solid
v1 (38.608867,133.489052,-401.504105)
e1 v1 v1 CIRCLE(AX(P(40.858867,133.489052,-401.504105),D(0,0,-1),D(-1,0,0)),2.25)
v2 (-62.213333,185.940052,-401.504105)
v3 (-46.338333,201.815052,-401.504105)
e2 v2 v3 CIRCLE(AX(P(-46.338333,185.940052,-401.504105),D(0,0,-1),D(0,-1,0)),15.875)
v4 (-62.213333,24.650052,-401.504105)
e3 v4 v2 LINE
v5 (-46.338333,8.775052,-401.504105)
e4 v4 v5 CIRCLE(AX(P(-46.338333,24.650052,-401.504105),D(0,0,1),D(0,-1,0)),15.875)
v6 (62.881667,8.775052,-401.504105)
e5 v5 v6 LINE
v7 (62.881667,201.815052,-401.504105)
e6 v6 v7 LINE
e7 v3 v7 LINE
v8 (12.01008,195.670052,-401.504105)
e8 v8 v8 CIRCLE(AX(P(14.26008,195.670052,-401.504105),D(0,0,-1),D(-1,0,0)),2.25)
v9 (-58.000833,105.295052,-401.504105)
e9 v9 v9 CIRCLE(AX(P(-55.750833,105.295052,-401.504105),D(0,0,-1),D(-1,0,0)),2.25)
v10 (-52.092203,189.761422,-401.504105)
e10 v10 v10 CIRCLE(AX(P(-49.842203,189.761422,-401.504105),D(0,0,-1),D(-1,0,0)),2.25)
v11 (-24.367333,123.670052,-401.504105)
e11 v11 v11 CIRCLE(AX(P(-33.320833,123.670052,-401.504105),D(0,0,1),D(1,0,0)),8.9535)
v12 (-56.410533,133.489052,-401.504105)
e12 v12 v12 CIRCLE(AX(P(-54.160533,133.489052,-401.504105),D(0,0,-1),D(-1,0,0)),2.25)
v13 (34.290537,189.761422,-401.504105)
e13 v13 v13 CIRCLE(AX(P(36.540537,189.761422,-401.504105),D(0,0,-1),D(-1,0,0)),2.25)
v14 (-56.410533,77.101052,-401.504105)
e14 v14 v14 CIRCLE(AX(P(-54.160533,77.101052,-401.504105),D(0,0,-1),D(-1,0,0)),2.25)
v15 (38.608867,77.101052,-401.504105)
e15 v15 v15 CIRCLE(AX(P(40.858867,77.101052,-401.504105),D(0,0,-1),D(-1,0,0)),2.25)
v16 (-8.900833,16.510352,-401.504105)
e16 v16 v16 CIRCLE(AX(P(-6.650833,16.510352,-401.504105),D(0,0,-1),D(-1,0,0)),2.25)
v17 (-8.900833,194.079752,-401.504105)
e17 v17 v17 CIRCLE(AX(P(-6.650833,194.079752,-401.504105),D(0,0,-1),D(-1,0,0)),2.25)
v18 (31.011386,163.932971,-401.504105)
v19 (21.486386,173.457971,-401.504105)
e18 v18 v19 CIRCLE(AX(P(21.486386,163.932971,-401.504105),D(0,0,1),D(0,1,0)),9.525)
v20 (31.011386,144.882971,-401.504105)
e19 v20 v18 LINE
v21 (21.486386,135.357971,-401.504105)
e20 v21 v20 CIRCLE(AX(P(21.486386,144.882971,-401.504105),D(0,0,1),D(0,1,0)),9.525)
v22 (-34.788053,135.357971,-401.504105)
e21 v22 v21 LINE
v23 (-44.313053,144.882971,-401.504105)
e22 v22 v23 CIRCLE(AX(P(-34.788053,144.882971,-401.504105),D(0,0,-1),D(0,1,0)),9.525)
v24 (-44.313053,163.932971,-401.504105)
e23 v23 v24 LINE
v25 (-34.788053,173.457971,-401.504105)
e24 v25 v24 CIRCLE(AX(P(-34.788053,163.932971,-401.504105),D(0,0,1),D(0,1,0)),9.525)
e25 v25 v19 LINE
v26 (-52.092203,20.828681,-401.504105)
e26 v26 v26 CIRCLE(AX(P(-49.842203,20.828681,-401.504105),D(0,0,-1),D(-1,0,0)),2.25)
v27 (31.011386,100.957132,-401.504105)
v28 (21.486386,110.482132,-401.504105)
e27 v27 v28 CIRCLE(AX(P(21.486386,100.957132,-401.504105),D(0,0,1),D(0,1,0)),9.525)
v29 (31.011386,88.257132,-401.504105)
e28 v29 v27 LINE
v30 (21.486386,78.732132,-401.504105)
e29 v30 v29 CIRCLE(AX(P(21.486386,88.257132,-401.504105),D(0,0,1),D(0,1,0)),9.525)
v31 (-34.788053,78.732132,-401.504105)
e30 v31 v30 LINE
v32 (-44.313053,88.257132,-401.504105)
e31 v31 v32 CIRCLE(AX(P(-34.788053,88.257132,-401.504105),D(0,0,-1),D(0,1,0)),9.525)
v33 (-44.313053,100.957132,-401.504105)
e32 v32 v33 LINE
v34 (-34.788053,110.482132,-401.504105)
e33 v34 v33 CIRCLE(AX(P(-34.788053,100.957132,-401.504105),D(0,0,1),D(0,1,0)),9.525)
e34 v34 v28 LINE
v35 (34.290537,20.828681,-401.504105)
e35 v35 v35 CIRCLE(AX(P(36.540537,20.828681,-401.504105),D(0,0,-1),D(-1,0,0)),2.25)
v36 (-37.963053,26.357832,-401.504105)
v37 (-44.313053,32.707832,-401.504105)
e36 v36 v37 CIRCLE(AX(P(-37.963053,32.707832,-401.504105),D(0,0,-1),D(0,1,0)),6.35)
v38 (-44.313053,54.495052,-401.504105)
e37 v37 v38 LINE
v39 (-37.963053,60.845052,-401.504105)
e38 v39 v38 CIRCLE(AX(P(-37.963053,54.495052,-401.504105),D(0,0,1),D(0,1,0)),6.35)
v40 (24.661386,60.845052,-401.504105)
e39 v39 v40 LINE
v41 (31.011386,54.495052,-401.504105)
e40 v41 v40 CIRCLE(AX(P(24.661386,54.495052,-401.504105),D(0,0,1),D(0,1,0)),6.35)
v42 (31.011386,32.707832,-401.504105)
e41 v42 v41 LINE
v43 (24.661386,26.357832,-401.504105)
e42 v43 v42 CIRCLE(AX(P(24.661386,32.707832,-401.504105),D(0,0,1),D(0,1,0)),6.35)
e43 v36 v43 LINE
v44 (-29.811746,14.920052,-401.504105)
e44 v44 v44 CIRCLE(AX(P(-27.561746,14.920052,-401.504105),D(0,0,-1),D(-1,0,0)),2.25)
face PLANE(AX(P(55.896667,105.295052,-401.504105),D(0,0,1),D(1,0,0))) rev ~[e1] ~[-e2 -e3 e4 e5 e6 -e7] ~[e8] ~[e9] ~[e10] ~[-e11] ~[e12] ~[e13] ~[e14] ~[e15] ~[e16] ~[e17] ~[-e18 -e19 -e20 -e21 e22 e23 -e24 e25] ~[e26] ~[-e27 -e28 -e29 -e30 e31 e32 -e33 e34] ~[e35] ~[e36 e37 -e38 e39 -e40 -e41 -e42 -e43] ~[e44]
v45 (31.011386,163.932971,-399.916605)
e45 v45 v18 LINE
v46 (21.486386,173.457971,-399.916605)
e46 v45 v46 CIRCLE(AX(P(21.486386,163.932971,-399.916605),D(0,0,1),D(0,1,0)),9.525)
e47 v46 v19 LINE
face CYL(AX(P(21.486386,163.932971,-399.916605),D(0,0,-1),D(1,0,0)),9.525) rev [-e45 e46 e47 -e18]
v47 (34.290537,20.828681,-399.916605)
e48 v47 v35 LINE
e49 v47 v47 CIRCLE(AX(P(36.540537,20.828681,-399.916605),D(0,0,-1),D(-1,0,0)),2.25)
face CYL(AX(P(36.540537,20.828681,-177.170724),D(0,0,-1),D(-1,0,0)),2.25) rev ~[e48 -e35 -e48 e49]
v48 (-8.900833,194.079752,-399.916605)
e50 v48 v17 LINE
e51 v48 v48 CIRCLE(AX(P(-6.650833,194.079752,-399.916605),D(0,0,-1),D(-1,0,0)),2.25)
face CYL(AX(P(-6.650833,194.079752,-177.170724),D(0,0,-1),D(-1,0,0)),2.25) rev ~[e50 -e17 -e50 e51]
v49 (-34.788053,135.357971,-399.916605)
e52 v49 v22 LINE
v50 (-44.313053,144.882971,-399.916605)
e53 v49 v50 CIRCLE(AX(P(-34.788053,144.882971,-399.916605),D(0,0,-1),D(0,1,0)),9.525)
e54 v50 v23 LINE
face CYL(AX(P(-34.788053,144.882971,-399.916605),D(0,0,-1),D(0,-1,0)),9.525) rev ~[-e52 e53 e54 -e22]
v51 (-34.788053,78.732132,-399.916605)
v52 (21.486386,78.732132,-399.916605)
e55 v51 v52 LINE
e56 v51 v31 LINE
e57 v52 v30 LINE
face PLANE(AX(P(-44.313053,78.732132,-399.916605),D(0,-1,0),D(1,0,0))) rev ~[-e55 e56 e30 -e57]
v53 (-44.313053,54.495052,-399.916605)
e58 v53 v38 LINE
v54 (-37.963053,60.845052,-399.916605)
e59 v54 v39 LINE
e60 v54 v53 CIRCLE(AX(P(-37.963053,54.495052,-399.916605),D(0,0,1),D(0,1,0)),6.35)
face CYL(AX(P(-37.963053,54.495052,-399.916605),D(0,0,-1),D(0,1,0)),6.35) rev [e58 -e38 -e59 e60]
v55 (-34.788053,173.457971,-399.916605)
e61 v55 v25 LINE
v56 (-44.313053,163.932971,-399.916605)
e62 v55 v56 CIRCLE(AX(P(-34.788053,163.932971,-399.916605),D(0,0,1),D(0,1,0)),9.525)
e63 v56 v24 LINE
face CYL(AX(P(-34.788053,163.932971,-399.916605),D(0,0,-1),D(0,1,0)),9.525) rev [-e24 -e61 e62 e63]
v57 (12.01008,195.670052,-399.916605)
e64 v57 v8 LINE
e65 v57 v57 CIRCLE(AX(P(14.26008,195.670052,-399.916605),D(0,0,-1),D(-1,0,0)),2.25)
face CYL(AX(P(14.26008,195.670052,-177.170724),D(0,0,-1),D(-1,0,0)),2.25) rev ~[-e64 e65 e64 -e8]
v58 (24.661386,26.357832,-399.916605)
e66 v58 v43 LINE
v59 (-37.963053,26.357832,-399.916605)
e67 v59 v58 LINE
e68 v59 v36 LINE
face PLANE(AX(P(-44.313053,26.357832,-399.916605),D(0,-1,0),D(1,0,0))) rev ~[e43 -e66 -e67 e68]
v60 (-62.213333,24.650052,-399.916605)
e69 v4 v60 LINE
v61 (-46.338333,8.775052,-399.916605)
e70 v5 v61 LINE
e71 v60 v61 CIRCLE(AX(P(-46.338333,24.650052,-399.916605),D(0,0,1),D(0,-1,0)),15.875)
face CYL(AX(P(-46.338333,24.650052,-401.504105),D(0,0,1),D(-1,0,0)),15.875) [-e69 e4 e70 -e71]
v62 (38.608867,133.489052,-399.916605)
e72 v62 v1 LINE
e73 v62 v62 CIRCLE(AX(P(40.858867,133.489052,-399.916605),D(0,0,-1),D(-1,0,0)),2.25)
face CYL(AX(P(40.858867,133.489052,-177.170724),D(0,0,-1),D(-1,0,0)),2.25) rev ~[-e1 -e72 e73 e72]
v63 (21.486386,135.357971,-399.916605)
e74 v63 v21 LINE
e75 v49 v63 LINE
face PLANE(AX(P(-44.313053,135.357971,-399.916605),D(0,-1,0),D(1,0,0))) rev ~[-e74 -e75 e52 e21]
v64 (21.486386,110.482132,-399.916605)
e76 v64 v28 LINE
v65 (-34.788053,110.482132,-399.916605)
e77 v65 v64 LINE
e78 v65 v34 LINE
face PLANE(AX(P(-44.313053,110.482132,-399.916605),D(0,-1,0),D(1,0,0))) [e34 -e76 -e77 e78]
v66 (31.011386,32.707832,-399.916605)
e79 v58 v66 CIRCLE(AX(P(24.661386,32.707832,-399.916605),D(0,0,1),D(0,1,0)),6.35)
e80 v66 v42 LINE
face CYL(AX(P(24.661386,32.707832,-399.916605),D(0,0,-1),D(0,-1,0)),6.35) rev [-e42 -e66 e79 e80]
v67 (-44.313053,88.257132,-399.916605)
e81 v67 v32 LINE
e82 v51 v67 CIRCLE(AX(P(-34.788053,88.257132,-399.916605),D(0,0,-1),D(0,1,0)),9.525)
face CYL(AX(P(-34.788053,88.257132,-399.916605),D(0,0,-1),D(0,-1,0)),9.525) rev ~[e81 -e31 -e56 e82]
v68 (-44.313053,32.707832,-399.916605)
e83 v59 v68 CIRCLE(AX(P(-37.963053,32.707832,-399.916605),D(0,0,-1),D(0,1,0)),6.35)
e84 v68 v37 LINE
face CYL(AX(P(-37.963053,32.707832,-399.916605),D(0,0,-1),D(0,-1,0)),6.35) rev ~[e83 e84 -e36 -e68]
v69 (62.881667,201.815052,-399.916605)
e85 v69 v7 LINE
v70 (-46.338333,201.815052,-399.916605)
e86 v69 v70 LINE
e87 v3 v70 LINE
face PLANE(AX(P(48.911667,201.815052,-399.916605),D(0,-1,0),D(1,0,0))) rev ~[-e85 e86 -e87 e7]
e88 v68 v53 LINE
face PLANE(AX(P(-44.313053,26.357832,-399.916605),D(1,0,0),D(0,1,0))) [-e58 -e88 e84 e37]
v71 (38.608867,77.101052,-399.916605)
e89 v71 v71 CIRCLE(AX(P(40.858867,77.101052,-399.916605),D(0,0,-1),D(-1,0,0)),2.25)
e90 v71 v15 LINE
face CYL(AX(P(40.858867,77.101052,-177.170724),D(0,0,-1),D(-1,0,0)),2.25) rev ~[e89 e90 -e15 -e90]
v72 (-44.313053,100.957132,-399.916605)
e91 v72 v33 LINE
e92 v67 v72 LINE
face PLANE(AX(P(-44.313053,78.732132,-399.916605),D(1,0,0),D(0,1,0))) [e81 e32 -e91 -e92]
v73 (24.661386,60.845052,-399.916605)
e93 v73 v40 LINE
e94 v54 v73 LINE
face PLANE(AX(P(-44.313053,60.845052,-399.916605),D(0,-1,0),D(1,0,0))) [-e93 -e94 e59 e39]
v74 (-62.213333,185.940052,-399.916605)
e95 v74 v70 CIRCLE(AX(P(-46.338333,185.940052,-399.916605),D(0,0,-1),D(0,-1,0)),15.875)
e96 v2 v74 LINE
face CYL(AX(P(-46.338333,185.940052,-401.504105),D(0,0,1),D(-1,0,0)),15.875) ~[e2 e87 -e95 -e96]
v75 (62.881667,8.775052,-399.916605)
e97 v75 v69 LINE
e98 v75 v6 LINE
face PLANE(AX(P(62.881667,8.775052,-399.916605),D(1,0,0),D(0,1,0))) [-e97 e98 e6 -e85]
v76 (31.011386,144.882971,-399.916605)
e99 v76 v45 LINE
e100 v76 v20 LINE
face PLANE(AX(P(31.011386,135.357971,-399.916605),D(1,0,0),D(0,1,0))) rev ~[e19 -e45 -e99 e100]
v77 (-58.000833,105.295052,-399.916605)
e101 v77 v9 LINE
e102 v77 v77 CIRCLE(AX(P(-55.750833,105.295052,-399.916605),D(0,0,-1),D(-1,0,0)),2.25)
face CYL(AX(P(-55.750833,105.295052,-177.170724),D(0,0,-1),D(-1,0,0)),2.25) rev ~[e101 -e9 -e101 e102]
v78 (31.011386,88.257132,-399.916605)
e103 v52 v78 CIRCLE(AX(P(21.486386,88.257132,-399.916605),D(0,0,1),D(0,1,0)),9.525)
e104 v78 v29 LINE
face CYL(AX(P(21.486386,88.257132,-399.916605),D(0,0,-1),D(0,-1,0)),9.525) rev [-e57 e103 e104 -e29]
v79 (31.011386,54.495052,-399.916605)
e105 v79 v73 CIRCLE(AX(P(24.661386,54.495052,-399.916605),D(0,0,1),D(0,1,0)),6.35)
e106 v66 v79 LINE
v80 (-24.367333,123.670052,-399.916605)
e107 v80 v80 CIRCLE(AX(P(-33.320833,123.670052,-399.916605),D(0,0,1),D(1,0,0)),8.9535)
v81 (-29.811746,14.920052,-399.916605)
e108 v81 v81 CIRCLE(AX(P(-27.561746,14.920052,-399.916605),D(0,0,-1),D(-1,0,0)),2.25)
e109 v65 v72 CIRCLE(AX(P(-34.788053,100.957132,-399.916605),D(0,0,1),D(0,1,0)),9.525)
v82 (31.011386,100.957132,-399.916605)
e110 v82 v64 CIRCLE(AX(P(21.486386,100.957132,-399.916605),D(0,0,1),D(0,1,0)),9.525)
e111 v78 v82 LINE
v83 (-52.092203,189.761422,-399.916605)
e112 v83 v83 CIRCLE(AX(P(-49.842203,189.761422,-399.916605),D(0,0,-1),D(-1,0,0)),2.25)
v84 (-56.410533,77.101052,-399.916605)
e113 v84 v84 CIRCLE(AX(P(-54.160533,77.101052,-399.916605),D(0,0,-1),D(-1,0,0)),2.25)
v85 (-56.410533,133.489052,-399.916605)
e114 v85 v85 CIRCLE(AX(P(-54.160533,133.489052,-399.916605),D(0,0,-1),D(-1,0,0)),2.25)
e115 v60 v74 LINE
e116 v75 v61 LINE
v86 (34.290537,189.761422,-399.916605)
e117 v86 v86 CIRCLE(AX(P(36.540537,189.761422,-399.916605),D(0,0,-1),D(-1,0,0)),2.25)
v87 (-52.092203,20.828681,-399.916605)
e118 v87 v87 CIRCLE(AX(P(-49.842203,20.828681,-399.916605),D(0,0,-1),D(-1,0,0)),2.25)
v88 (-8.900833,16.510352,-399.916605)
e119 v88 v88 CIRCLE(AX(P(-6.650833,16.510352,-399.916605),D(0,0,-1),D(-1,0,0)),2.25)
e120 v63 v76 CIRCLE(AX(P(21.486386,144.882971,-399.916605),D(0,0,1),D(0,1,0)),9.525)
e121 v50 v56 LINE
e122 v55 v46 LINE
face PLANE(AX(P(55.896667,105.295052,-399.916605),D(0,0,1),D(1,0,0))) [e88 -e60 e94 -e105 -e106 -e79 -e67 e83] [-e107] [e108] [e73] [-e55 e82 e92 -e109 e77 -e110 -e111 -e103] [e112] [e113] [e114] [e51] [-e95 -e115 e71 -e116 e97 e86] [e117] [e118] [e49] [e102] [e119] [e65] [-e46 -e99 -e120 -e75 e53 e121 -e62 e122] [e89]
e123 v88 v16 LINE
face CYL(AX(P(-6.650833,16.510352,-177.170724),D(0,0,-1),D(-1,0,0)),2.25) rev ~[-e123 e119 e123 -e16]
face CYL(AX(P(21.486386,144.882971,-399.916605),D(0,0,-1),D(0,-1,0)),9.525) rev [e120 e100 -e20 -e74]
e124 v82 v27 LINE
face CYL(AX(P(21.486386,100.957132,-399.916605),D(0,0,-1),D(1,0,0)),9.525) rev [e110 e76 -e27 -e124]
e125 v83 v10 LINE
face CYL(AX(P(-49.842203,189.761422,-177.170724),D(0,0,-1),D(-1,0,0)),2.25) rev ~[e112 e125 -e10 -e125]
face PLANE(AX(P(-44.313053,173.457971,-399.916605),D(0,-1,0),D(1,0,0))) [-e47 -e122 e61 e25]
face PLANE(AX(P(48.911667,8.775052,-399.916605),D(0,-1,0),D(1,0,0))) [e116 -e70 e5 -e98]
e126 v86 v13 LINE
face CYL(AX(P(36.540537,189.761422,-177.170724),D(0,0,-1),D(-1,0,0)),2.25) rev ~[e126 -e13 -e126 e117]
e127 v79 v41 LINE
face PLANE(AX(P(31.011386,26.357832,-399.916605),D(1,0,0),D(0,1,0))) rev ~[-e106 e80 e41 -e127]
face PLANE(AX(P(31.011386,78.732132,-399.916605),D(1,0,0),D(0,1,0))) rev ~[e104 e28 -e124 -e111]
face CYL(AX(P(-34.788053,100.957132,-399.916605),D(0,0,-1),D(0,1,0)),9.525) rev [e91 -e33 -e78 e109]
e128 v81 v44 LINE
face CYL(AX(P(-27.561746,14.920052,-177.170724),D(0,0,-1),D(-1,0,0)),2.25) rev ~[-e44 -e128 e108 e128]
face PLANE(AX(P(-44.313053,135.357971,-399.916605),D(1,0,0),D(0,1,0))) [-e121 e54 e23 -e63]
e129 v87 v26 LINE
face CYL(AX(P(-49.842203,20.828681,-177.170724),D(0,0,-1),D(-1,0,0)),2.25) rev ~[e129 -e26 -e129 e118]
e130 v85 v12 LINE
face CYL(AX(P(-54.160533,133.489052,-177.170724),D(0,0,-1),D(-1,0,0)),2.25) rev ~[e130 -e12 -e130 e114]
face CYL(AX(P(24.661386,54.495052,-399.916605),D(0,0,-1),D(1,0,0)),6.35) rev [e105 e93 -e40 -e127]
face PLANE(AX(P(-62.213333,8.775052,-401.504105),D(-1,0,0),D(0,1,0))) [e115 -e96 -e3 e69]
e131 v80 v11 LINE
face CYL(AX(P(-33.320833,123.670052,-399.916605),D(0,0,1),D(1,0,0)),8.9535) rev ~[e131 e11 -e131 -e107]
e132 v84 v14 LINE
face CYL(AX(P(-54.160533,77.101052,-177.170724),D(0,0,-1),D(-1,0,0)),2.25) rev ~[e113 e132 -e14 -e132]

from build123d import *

# Parameters (mm, degrees)
SKETCH2_W            = 111.125
SKETCH2_H            = 193.04
BOSS_EXTRUDE1_DEPTH  = 1.5875
M4_CLEARANCE_HOLE1_D = 4.5
FILLET1_R            = 15.875
SKETCH6_R            = 2.4003
SKETCH6_R_2          = 3
SKETCH6_R_3          = 6.477
SKETCH6_R_4          = 10.762
CUT_EXTRUDE1_DEPTH   = 212.192646736
SKETCH7_W            = 13.97
SKETCH7_H            = 193.04
BOSS_EXTRUDE2_DEPTH  = 1.5875
SKETCH8_W            = 75.32443897
SKETCH8_H            = 38.1
SKETCH8_R            = 10.762
SKETCH8_R_2          = 3
SKETCH8_H_2          = 31.75
SKETCH8_H_3          = 34.487219484
SKETCH8_R_3          = 2.4003
SKETCH8_R_4          = 6.477
SKETCH8_R_5          = 8.9535
CUT_EXTRUDE2_DEPTH   = 1.5875
FILLET2_R            = 9.525
FILLET3_R            = 6.35
FILLET4_R            = 9.525


with BuildPart() as part:
    # Sketch2 → Boss-Extrude1 (new body)
    with BuildSketch(Plane.XY.offset(-401.504104662)):
        with Locations((-6.650833159, 105.295051609)):
            Rectangle(SKETCH2_W, SKETCH2_H)
    extrude(amount=BOSS_EXTRUDE1_DEPTH)

    # M4 Clearance Hole1 (through all)
    with Locations(Plane.XY.offset(-399.916604662)):
        with Locations((36.540537091, 189.761421859), (-6.650833159, 194.079751609), (-49.842203409, 189.761421859), (-54.160533159, 133.489051609), (-54.160533159, 77.101051609), (-49.842203409, 20.82868136), (-6.650833159, 16.510351609), (36.540537091, 20.82868136), (40.858866841, 77.101051609), (40.858866841, 133.489051609), (14.260079544, 195.670051609), (-55.750833159, 105.295051609), (-27.561745863, 14.920051609)):
            Hole(M4_CLEARANCE_HOLE1_D / 2)

    # Fillet1
    fillet1_edges = [part.edges().sort_by_distance(p)[0] for p in [
        (-62.213333159, 201.815051609, -400.710354662),
        (-62.213333159, 8.775051609, -400.710354662),
    ]]
    fillet(fillet1_edges, radius=FILLET1_R)

    # Sketch6 → Cut-Extrude1 (cut, through all)
    with BuildSketch(Plane.XY.offset(-399.916604662)):
        with Locations((-34.590833159, 43.382551609)):
            Circle(SKETCH6_R)
        with Locations((21.289166841, 43.382551609)):
            Circle(SKETCH6_R)
        with Locations((-20.884724927, 142.590766631)):
            Circle(SKETCH6_R_2)
        with Locations((7.583058609, 166.225175879)):
            Circle(SKETCH6_R_2)
        with Locations((3.509166841, 43.382551609)):
            Circle(SKETCH6_R_3)
        with Locations((-16.810833159, 43.382551609)):
            Circle(SKETCH6_R_3)
        with Locations((-33.320833159, 123.670051609)):
            Circle(SKETCH6_R_3)
        with Locations((-6.650833159, 154.407971255)):
            Circle(SKETCH6_R_4)
        with Locations((-6.650833159, 94.607131964)):
            Circle(SKETCH6_R_4)
    extrude(amount=-CUT_EXTRUDE1_DEPTH, mode=Mode.SUBTRACT)

    # Sketch7 → Boss-Extrude2 (add)
    with BuildSketch(Plane.XY.offset(-399.916604662)):
        with Locations((55.896666841, 105.295051609)):
            Rectangle(SKETCH7_W, SKETCH7_H)
    extrude(amount=-BOSS_EXTRUDE2_DEPTH)

    # Sketch8 → Cut-Extrude2 (cut)
    # profile 1 of 4: a face of its own
    with BuildSketch(Plane.XY.offset(-399.916604662)):
        with Locations((-6.650833159, 154.407971255)):
            Rectangle(SKETCH8_W, SKETCH8_H)
        with Locations((-6.650833159, 154.407971255)):
            Circle(SKETCH8_R, mode=Mode.SUBTRACT)
        with Locations((7.583058609, 166.225175879)):
            Circle(SKETCH8_R_2, mode=Mode.SUBTRACT)
        with Locations((-20.884724927, 142.590766631)):
            Circle(SKETCH8_R_2, mode=Mode.SUBTRACT)
    # profile 2 of 4: a face of its own
    with BuildSketch(Plane.XY.offset(-399.916604662)):
        with Locations((-6.650833159, 94.607131964)):
            Rectangle(SKETCH8_W, SKETCH8_H_2)
        with Locations((-6.650833159, 94.607131964)):
            Circle(SKETCH8_R, mode=Mode.SUBTRACT)
    # profile 3 of 4: a face of its own
    with BuildSketch(Plane.XY.offset(-399.916604662)):
        with Locations((-6.650833159, 43.601441867)):
            Rectangle(SKETCH8_W, SKETCH8_H_3)
        with Locations((-34.590833159, 43.382551609)):
            Circle(SKETCH8_R_3, mode=Mode.SUBTRACT)
        with Locations((-16.810833159, 43.382551609)):
            Circle(SKETCH8_R_4, mode=Mode.SUBTRACT)
        with Locations((3.509166841, 43.382551609)):
            Circle(SKETCH8_R_4, mode=Mode.SUBTRACT)
        with Locations((21.289166841, 43.382551609)):
            Circle(SKETCH8_R_3, mode=Mode.SUBTRACT)
    # profile 4 of 4: a face of its own
    with BuildSketch(Plane.XY.offset(-399.916604662)):
        with Locations((-33.320833159, 123.670051609)):
            Circle(SKETCH8_R_5)
        with Locations((-33.320833159, 123.670051609)):
            Circle(SKETCH8_R_4, mode=Mode.SUBTRACT)
    extrude(amount=-CUT_EXTRUDE2_DEPTH, mode=Mode.SUBTRACT)

    # Fillet2
    fillet2_edges = [part.edges().sort_by_distance(p)[0] for p in [
        (-44.313052644, 173.457971255, -400.710354662),
        (-44.313052644, 135.357971255, -400.710354662),
        (31.011386326, 135.357971255, -400.710354662),
        (31.011386326, 173.457971255, -400.710354662),
    ]]
    fillet(fillet2_edges, radius=FILLET2_R)

    # Fillet3
    fillet3_edges = [part.edges().sort_by_distance(p)[0] for p in [
        (-44.313052644, 26.357832125, -400.710354662),
        (31.011386326, 26.357832125, -400.710354662),
        (31.011386326, 60.845051609, -400.710354662),
        (-44.313052644, 60.845051609, -400.710354662),
    ]]
    fillet(fillet3_edges, radius=FILLET3_R)

    # Fillet4
    fillet4_edges = [part.edges().sort_by_distance(p)[0] for p in [
        (-44.313052644, 110.482131964, -400.710354662),
        (-44.313052644, 78.732131964, -400.710354662),
        (31.011386326, 78.732131964, -400.710354662),
        (31.011386326, 110.482131964, -400.710354662),
    ]]
    fillet(fillet4_edges, radius=FILLET4_R)


solid = part.part
